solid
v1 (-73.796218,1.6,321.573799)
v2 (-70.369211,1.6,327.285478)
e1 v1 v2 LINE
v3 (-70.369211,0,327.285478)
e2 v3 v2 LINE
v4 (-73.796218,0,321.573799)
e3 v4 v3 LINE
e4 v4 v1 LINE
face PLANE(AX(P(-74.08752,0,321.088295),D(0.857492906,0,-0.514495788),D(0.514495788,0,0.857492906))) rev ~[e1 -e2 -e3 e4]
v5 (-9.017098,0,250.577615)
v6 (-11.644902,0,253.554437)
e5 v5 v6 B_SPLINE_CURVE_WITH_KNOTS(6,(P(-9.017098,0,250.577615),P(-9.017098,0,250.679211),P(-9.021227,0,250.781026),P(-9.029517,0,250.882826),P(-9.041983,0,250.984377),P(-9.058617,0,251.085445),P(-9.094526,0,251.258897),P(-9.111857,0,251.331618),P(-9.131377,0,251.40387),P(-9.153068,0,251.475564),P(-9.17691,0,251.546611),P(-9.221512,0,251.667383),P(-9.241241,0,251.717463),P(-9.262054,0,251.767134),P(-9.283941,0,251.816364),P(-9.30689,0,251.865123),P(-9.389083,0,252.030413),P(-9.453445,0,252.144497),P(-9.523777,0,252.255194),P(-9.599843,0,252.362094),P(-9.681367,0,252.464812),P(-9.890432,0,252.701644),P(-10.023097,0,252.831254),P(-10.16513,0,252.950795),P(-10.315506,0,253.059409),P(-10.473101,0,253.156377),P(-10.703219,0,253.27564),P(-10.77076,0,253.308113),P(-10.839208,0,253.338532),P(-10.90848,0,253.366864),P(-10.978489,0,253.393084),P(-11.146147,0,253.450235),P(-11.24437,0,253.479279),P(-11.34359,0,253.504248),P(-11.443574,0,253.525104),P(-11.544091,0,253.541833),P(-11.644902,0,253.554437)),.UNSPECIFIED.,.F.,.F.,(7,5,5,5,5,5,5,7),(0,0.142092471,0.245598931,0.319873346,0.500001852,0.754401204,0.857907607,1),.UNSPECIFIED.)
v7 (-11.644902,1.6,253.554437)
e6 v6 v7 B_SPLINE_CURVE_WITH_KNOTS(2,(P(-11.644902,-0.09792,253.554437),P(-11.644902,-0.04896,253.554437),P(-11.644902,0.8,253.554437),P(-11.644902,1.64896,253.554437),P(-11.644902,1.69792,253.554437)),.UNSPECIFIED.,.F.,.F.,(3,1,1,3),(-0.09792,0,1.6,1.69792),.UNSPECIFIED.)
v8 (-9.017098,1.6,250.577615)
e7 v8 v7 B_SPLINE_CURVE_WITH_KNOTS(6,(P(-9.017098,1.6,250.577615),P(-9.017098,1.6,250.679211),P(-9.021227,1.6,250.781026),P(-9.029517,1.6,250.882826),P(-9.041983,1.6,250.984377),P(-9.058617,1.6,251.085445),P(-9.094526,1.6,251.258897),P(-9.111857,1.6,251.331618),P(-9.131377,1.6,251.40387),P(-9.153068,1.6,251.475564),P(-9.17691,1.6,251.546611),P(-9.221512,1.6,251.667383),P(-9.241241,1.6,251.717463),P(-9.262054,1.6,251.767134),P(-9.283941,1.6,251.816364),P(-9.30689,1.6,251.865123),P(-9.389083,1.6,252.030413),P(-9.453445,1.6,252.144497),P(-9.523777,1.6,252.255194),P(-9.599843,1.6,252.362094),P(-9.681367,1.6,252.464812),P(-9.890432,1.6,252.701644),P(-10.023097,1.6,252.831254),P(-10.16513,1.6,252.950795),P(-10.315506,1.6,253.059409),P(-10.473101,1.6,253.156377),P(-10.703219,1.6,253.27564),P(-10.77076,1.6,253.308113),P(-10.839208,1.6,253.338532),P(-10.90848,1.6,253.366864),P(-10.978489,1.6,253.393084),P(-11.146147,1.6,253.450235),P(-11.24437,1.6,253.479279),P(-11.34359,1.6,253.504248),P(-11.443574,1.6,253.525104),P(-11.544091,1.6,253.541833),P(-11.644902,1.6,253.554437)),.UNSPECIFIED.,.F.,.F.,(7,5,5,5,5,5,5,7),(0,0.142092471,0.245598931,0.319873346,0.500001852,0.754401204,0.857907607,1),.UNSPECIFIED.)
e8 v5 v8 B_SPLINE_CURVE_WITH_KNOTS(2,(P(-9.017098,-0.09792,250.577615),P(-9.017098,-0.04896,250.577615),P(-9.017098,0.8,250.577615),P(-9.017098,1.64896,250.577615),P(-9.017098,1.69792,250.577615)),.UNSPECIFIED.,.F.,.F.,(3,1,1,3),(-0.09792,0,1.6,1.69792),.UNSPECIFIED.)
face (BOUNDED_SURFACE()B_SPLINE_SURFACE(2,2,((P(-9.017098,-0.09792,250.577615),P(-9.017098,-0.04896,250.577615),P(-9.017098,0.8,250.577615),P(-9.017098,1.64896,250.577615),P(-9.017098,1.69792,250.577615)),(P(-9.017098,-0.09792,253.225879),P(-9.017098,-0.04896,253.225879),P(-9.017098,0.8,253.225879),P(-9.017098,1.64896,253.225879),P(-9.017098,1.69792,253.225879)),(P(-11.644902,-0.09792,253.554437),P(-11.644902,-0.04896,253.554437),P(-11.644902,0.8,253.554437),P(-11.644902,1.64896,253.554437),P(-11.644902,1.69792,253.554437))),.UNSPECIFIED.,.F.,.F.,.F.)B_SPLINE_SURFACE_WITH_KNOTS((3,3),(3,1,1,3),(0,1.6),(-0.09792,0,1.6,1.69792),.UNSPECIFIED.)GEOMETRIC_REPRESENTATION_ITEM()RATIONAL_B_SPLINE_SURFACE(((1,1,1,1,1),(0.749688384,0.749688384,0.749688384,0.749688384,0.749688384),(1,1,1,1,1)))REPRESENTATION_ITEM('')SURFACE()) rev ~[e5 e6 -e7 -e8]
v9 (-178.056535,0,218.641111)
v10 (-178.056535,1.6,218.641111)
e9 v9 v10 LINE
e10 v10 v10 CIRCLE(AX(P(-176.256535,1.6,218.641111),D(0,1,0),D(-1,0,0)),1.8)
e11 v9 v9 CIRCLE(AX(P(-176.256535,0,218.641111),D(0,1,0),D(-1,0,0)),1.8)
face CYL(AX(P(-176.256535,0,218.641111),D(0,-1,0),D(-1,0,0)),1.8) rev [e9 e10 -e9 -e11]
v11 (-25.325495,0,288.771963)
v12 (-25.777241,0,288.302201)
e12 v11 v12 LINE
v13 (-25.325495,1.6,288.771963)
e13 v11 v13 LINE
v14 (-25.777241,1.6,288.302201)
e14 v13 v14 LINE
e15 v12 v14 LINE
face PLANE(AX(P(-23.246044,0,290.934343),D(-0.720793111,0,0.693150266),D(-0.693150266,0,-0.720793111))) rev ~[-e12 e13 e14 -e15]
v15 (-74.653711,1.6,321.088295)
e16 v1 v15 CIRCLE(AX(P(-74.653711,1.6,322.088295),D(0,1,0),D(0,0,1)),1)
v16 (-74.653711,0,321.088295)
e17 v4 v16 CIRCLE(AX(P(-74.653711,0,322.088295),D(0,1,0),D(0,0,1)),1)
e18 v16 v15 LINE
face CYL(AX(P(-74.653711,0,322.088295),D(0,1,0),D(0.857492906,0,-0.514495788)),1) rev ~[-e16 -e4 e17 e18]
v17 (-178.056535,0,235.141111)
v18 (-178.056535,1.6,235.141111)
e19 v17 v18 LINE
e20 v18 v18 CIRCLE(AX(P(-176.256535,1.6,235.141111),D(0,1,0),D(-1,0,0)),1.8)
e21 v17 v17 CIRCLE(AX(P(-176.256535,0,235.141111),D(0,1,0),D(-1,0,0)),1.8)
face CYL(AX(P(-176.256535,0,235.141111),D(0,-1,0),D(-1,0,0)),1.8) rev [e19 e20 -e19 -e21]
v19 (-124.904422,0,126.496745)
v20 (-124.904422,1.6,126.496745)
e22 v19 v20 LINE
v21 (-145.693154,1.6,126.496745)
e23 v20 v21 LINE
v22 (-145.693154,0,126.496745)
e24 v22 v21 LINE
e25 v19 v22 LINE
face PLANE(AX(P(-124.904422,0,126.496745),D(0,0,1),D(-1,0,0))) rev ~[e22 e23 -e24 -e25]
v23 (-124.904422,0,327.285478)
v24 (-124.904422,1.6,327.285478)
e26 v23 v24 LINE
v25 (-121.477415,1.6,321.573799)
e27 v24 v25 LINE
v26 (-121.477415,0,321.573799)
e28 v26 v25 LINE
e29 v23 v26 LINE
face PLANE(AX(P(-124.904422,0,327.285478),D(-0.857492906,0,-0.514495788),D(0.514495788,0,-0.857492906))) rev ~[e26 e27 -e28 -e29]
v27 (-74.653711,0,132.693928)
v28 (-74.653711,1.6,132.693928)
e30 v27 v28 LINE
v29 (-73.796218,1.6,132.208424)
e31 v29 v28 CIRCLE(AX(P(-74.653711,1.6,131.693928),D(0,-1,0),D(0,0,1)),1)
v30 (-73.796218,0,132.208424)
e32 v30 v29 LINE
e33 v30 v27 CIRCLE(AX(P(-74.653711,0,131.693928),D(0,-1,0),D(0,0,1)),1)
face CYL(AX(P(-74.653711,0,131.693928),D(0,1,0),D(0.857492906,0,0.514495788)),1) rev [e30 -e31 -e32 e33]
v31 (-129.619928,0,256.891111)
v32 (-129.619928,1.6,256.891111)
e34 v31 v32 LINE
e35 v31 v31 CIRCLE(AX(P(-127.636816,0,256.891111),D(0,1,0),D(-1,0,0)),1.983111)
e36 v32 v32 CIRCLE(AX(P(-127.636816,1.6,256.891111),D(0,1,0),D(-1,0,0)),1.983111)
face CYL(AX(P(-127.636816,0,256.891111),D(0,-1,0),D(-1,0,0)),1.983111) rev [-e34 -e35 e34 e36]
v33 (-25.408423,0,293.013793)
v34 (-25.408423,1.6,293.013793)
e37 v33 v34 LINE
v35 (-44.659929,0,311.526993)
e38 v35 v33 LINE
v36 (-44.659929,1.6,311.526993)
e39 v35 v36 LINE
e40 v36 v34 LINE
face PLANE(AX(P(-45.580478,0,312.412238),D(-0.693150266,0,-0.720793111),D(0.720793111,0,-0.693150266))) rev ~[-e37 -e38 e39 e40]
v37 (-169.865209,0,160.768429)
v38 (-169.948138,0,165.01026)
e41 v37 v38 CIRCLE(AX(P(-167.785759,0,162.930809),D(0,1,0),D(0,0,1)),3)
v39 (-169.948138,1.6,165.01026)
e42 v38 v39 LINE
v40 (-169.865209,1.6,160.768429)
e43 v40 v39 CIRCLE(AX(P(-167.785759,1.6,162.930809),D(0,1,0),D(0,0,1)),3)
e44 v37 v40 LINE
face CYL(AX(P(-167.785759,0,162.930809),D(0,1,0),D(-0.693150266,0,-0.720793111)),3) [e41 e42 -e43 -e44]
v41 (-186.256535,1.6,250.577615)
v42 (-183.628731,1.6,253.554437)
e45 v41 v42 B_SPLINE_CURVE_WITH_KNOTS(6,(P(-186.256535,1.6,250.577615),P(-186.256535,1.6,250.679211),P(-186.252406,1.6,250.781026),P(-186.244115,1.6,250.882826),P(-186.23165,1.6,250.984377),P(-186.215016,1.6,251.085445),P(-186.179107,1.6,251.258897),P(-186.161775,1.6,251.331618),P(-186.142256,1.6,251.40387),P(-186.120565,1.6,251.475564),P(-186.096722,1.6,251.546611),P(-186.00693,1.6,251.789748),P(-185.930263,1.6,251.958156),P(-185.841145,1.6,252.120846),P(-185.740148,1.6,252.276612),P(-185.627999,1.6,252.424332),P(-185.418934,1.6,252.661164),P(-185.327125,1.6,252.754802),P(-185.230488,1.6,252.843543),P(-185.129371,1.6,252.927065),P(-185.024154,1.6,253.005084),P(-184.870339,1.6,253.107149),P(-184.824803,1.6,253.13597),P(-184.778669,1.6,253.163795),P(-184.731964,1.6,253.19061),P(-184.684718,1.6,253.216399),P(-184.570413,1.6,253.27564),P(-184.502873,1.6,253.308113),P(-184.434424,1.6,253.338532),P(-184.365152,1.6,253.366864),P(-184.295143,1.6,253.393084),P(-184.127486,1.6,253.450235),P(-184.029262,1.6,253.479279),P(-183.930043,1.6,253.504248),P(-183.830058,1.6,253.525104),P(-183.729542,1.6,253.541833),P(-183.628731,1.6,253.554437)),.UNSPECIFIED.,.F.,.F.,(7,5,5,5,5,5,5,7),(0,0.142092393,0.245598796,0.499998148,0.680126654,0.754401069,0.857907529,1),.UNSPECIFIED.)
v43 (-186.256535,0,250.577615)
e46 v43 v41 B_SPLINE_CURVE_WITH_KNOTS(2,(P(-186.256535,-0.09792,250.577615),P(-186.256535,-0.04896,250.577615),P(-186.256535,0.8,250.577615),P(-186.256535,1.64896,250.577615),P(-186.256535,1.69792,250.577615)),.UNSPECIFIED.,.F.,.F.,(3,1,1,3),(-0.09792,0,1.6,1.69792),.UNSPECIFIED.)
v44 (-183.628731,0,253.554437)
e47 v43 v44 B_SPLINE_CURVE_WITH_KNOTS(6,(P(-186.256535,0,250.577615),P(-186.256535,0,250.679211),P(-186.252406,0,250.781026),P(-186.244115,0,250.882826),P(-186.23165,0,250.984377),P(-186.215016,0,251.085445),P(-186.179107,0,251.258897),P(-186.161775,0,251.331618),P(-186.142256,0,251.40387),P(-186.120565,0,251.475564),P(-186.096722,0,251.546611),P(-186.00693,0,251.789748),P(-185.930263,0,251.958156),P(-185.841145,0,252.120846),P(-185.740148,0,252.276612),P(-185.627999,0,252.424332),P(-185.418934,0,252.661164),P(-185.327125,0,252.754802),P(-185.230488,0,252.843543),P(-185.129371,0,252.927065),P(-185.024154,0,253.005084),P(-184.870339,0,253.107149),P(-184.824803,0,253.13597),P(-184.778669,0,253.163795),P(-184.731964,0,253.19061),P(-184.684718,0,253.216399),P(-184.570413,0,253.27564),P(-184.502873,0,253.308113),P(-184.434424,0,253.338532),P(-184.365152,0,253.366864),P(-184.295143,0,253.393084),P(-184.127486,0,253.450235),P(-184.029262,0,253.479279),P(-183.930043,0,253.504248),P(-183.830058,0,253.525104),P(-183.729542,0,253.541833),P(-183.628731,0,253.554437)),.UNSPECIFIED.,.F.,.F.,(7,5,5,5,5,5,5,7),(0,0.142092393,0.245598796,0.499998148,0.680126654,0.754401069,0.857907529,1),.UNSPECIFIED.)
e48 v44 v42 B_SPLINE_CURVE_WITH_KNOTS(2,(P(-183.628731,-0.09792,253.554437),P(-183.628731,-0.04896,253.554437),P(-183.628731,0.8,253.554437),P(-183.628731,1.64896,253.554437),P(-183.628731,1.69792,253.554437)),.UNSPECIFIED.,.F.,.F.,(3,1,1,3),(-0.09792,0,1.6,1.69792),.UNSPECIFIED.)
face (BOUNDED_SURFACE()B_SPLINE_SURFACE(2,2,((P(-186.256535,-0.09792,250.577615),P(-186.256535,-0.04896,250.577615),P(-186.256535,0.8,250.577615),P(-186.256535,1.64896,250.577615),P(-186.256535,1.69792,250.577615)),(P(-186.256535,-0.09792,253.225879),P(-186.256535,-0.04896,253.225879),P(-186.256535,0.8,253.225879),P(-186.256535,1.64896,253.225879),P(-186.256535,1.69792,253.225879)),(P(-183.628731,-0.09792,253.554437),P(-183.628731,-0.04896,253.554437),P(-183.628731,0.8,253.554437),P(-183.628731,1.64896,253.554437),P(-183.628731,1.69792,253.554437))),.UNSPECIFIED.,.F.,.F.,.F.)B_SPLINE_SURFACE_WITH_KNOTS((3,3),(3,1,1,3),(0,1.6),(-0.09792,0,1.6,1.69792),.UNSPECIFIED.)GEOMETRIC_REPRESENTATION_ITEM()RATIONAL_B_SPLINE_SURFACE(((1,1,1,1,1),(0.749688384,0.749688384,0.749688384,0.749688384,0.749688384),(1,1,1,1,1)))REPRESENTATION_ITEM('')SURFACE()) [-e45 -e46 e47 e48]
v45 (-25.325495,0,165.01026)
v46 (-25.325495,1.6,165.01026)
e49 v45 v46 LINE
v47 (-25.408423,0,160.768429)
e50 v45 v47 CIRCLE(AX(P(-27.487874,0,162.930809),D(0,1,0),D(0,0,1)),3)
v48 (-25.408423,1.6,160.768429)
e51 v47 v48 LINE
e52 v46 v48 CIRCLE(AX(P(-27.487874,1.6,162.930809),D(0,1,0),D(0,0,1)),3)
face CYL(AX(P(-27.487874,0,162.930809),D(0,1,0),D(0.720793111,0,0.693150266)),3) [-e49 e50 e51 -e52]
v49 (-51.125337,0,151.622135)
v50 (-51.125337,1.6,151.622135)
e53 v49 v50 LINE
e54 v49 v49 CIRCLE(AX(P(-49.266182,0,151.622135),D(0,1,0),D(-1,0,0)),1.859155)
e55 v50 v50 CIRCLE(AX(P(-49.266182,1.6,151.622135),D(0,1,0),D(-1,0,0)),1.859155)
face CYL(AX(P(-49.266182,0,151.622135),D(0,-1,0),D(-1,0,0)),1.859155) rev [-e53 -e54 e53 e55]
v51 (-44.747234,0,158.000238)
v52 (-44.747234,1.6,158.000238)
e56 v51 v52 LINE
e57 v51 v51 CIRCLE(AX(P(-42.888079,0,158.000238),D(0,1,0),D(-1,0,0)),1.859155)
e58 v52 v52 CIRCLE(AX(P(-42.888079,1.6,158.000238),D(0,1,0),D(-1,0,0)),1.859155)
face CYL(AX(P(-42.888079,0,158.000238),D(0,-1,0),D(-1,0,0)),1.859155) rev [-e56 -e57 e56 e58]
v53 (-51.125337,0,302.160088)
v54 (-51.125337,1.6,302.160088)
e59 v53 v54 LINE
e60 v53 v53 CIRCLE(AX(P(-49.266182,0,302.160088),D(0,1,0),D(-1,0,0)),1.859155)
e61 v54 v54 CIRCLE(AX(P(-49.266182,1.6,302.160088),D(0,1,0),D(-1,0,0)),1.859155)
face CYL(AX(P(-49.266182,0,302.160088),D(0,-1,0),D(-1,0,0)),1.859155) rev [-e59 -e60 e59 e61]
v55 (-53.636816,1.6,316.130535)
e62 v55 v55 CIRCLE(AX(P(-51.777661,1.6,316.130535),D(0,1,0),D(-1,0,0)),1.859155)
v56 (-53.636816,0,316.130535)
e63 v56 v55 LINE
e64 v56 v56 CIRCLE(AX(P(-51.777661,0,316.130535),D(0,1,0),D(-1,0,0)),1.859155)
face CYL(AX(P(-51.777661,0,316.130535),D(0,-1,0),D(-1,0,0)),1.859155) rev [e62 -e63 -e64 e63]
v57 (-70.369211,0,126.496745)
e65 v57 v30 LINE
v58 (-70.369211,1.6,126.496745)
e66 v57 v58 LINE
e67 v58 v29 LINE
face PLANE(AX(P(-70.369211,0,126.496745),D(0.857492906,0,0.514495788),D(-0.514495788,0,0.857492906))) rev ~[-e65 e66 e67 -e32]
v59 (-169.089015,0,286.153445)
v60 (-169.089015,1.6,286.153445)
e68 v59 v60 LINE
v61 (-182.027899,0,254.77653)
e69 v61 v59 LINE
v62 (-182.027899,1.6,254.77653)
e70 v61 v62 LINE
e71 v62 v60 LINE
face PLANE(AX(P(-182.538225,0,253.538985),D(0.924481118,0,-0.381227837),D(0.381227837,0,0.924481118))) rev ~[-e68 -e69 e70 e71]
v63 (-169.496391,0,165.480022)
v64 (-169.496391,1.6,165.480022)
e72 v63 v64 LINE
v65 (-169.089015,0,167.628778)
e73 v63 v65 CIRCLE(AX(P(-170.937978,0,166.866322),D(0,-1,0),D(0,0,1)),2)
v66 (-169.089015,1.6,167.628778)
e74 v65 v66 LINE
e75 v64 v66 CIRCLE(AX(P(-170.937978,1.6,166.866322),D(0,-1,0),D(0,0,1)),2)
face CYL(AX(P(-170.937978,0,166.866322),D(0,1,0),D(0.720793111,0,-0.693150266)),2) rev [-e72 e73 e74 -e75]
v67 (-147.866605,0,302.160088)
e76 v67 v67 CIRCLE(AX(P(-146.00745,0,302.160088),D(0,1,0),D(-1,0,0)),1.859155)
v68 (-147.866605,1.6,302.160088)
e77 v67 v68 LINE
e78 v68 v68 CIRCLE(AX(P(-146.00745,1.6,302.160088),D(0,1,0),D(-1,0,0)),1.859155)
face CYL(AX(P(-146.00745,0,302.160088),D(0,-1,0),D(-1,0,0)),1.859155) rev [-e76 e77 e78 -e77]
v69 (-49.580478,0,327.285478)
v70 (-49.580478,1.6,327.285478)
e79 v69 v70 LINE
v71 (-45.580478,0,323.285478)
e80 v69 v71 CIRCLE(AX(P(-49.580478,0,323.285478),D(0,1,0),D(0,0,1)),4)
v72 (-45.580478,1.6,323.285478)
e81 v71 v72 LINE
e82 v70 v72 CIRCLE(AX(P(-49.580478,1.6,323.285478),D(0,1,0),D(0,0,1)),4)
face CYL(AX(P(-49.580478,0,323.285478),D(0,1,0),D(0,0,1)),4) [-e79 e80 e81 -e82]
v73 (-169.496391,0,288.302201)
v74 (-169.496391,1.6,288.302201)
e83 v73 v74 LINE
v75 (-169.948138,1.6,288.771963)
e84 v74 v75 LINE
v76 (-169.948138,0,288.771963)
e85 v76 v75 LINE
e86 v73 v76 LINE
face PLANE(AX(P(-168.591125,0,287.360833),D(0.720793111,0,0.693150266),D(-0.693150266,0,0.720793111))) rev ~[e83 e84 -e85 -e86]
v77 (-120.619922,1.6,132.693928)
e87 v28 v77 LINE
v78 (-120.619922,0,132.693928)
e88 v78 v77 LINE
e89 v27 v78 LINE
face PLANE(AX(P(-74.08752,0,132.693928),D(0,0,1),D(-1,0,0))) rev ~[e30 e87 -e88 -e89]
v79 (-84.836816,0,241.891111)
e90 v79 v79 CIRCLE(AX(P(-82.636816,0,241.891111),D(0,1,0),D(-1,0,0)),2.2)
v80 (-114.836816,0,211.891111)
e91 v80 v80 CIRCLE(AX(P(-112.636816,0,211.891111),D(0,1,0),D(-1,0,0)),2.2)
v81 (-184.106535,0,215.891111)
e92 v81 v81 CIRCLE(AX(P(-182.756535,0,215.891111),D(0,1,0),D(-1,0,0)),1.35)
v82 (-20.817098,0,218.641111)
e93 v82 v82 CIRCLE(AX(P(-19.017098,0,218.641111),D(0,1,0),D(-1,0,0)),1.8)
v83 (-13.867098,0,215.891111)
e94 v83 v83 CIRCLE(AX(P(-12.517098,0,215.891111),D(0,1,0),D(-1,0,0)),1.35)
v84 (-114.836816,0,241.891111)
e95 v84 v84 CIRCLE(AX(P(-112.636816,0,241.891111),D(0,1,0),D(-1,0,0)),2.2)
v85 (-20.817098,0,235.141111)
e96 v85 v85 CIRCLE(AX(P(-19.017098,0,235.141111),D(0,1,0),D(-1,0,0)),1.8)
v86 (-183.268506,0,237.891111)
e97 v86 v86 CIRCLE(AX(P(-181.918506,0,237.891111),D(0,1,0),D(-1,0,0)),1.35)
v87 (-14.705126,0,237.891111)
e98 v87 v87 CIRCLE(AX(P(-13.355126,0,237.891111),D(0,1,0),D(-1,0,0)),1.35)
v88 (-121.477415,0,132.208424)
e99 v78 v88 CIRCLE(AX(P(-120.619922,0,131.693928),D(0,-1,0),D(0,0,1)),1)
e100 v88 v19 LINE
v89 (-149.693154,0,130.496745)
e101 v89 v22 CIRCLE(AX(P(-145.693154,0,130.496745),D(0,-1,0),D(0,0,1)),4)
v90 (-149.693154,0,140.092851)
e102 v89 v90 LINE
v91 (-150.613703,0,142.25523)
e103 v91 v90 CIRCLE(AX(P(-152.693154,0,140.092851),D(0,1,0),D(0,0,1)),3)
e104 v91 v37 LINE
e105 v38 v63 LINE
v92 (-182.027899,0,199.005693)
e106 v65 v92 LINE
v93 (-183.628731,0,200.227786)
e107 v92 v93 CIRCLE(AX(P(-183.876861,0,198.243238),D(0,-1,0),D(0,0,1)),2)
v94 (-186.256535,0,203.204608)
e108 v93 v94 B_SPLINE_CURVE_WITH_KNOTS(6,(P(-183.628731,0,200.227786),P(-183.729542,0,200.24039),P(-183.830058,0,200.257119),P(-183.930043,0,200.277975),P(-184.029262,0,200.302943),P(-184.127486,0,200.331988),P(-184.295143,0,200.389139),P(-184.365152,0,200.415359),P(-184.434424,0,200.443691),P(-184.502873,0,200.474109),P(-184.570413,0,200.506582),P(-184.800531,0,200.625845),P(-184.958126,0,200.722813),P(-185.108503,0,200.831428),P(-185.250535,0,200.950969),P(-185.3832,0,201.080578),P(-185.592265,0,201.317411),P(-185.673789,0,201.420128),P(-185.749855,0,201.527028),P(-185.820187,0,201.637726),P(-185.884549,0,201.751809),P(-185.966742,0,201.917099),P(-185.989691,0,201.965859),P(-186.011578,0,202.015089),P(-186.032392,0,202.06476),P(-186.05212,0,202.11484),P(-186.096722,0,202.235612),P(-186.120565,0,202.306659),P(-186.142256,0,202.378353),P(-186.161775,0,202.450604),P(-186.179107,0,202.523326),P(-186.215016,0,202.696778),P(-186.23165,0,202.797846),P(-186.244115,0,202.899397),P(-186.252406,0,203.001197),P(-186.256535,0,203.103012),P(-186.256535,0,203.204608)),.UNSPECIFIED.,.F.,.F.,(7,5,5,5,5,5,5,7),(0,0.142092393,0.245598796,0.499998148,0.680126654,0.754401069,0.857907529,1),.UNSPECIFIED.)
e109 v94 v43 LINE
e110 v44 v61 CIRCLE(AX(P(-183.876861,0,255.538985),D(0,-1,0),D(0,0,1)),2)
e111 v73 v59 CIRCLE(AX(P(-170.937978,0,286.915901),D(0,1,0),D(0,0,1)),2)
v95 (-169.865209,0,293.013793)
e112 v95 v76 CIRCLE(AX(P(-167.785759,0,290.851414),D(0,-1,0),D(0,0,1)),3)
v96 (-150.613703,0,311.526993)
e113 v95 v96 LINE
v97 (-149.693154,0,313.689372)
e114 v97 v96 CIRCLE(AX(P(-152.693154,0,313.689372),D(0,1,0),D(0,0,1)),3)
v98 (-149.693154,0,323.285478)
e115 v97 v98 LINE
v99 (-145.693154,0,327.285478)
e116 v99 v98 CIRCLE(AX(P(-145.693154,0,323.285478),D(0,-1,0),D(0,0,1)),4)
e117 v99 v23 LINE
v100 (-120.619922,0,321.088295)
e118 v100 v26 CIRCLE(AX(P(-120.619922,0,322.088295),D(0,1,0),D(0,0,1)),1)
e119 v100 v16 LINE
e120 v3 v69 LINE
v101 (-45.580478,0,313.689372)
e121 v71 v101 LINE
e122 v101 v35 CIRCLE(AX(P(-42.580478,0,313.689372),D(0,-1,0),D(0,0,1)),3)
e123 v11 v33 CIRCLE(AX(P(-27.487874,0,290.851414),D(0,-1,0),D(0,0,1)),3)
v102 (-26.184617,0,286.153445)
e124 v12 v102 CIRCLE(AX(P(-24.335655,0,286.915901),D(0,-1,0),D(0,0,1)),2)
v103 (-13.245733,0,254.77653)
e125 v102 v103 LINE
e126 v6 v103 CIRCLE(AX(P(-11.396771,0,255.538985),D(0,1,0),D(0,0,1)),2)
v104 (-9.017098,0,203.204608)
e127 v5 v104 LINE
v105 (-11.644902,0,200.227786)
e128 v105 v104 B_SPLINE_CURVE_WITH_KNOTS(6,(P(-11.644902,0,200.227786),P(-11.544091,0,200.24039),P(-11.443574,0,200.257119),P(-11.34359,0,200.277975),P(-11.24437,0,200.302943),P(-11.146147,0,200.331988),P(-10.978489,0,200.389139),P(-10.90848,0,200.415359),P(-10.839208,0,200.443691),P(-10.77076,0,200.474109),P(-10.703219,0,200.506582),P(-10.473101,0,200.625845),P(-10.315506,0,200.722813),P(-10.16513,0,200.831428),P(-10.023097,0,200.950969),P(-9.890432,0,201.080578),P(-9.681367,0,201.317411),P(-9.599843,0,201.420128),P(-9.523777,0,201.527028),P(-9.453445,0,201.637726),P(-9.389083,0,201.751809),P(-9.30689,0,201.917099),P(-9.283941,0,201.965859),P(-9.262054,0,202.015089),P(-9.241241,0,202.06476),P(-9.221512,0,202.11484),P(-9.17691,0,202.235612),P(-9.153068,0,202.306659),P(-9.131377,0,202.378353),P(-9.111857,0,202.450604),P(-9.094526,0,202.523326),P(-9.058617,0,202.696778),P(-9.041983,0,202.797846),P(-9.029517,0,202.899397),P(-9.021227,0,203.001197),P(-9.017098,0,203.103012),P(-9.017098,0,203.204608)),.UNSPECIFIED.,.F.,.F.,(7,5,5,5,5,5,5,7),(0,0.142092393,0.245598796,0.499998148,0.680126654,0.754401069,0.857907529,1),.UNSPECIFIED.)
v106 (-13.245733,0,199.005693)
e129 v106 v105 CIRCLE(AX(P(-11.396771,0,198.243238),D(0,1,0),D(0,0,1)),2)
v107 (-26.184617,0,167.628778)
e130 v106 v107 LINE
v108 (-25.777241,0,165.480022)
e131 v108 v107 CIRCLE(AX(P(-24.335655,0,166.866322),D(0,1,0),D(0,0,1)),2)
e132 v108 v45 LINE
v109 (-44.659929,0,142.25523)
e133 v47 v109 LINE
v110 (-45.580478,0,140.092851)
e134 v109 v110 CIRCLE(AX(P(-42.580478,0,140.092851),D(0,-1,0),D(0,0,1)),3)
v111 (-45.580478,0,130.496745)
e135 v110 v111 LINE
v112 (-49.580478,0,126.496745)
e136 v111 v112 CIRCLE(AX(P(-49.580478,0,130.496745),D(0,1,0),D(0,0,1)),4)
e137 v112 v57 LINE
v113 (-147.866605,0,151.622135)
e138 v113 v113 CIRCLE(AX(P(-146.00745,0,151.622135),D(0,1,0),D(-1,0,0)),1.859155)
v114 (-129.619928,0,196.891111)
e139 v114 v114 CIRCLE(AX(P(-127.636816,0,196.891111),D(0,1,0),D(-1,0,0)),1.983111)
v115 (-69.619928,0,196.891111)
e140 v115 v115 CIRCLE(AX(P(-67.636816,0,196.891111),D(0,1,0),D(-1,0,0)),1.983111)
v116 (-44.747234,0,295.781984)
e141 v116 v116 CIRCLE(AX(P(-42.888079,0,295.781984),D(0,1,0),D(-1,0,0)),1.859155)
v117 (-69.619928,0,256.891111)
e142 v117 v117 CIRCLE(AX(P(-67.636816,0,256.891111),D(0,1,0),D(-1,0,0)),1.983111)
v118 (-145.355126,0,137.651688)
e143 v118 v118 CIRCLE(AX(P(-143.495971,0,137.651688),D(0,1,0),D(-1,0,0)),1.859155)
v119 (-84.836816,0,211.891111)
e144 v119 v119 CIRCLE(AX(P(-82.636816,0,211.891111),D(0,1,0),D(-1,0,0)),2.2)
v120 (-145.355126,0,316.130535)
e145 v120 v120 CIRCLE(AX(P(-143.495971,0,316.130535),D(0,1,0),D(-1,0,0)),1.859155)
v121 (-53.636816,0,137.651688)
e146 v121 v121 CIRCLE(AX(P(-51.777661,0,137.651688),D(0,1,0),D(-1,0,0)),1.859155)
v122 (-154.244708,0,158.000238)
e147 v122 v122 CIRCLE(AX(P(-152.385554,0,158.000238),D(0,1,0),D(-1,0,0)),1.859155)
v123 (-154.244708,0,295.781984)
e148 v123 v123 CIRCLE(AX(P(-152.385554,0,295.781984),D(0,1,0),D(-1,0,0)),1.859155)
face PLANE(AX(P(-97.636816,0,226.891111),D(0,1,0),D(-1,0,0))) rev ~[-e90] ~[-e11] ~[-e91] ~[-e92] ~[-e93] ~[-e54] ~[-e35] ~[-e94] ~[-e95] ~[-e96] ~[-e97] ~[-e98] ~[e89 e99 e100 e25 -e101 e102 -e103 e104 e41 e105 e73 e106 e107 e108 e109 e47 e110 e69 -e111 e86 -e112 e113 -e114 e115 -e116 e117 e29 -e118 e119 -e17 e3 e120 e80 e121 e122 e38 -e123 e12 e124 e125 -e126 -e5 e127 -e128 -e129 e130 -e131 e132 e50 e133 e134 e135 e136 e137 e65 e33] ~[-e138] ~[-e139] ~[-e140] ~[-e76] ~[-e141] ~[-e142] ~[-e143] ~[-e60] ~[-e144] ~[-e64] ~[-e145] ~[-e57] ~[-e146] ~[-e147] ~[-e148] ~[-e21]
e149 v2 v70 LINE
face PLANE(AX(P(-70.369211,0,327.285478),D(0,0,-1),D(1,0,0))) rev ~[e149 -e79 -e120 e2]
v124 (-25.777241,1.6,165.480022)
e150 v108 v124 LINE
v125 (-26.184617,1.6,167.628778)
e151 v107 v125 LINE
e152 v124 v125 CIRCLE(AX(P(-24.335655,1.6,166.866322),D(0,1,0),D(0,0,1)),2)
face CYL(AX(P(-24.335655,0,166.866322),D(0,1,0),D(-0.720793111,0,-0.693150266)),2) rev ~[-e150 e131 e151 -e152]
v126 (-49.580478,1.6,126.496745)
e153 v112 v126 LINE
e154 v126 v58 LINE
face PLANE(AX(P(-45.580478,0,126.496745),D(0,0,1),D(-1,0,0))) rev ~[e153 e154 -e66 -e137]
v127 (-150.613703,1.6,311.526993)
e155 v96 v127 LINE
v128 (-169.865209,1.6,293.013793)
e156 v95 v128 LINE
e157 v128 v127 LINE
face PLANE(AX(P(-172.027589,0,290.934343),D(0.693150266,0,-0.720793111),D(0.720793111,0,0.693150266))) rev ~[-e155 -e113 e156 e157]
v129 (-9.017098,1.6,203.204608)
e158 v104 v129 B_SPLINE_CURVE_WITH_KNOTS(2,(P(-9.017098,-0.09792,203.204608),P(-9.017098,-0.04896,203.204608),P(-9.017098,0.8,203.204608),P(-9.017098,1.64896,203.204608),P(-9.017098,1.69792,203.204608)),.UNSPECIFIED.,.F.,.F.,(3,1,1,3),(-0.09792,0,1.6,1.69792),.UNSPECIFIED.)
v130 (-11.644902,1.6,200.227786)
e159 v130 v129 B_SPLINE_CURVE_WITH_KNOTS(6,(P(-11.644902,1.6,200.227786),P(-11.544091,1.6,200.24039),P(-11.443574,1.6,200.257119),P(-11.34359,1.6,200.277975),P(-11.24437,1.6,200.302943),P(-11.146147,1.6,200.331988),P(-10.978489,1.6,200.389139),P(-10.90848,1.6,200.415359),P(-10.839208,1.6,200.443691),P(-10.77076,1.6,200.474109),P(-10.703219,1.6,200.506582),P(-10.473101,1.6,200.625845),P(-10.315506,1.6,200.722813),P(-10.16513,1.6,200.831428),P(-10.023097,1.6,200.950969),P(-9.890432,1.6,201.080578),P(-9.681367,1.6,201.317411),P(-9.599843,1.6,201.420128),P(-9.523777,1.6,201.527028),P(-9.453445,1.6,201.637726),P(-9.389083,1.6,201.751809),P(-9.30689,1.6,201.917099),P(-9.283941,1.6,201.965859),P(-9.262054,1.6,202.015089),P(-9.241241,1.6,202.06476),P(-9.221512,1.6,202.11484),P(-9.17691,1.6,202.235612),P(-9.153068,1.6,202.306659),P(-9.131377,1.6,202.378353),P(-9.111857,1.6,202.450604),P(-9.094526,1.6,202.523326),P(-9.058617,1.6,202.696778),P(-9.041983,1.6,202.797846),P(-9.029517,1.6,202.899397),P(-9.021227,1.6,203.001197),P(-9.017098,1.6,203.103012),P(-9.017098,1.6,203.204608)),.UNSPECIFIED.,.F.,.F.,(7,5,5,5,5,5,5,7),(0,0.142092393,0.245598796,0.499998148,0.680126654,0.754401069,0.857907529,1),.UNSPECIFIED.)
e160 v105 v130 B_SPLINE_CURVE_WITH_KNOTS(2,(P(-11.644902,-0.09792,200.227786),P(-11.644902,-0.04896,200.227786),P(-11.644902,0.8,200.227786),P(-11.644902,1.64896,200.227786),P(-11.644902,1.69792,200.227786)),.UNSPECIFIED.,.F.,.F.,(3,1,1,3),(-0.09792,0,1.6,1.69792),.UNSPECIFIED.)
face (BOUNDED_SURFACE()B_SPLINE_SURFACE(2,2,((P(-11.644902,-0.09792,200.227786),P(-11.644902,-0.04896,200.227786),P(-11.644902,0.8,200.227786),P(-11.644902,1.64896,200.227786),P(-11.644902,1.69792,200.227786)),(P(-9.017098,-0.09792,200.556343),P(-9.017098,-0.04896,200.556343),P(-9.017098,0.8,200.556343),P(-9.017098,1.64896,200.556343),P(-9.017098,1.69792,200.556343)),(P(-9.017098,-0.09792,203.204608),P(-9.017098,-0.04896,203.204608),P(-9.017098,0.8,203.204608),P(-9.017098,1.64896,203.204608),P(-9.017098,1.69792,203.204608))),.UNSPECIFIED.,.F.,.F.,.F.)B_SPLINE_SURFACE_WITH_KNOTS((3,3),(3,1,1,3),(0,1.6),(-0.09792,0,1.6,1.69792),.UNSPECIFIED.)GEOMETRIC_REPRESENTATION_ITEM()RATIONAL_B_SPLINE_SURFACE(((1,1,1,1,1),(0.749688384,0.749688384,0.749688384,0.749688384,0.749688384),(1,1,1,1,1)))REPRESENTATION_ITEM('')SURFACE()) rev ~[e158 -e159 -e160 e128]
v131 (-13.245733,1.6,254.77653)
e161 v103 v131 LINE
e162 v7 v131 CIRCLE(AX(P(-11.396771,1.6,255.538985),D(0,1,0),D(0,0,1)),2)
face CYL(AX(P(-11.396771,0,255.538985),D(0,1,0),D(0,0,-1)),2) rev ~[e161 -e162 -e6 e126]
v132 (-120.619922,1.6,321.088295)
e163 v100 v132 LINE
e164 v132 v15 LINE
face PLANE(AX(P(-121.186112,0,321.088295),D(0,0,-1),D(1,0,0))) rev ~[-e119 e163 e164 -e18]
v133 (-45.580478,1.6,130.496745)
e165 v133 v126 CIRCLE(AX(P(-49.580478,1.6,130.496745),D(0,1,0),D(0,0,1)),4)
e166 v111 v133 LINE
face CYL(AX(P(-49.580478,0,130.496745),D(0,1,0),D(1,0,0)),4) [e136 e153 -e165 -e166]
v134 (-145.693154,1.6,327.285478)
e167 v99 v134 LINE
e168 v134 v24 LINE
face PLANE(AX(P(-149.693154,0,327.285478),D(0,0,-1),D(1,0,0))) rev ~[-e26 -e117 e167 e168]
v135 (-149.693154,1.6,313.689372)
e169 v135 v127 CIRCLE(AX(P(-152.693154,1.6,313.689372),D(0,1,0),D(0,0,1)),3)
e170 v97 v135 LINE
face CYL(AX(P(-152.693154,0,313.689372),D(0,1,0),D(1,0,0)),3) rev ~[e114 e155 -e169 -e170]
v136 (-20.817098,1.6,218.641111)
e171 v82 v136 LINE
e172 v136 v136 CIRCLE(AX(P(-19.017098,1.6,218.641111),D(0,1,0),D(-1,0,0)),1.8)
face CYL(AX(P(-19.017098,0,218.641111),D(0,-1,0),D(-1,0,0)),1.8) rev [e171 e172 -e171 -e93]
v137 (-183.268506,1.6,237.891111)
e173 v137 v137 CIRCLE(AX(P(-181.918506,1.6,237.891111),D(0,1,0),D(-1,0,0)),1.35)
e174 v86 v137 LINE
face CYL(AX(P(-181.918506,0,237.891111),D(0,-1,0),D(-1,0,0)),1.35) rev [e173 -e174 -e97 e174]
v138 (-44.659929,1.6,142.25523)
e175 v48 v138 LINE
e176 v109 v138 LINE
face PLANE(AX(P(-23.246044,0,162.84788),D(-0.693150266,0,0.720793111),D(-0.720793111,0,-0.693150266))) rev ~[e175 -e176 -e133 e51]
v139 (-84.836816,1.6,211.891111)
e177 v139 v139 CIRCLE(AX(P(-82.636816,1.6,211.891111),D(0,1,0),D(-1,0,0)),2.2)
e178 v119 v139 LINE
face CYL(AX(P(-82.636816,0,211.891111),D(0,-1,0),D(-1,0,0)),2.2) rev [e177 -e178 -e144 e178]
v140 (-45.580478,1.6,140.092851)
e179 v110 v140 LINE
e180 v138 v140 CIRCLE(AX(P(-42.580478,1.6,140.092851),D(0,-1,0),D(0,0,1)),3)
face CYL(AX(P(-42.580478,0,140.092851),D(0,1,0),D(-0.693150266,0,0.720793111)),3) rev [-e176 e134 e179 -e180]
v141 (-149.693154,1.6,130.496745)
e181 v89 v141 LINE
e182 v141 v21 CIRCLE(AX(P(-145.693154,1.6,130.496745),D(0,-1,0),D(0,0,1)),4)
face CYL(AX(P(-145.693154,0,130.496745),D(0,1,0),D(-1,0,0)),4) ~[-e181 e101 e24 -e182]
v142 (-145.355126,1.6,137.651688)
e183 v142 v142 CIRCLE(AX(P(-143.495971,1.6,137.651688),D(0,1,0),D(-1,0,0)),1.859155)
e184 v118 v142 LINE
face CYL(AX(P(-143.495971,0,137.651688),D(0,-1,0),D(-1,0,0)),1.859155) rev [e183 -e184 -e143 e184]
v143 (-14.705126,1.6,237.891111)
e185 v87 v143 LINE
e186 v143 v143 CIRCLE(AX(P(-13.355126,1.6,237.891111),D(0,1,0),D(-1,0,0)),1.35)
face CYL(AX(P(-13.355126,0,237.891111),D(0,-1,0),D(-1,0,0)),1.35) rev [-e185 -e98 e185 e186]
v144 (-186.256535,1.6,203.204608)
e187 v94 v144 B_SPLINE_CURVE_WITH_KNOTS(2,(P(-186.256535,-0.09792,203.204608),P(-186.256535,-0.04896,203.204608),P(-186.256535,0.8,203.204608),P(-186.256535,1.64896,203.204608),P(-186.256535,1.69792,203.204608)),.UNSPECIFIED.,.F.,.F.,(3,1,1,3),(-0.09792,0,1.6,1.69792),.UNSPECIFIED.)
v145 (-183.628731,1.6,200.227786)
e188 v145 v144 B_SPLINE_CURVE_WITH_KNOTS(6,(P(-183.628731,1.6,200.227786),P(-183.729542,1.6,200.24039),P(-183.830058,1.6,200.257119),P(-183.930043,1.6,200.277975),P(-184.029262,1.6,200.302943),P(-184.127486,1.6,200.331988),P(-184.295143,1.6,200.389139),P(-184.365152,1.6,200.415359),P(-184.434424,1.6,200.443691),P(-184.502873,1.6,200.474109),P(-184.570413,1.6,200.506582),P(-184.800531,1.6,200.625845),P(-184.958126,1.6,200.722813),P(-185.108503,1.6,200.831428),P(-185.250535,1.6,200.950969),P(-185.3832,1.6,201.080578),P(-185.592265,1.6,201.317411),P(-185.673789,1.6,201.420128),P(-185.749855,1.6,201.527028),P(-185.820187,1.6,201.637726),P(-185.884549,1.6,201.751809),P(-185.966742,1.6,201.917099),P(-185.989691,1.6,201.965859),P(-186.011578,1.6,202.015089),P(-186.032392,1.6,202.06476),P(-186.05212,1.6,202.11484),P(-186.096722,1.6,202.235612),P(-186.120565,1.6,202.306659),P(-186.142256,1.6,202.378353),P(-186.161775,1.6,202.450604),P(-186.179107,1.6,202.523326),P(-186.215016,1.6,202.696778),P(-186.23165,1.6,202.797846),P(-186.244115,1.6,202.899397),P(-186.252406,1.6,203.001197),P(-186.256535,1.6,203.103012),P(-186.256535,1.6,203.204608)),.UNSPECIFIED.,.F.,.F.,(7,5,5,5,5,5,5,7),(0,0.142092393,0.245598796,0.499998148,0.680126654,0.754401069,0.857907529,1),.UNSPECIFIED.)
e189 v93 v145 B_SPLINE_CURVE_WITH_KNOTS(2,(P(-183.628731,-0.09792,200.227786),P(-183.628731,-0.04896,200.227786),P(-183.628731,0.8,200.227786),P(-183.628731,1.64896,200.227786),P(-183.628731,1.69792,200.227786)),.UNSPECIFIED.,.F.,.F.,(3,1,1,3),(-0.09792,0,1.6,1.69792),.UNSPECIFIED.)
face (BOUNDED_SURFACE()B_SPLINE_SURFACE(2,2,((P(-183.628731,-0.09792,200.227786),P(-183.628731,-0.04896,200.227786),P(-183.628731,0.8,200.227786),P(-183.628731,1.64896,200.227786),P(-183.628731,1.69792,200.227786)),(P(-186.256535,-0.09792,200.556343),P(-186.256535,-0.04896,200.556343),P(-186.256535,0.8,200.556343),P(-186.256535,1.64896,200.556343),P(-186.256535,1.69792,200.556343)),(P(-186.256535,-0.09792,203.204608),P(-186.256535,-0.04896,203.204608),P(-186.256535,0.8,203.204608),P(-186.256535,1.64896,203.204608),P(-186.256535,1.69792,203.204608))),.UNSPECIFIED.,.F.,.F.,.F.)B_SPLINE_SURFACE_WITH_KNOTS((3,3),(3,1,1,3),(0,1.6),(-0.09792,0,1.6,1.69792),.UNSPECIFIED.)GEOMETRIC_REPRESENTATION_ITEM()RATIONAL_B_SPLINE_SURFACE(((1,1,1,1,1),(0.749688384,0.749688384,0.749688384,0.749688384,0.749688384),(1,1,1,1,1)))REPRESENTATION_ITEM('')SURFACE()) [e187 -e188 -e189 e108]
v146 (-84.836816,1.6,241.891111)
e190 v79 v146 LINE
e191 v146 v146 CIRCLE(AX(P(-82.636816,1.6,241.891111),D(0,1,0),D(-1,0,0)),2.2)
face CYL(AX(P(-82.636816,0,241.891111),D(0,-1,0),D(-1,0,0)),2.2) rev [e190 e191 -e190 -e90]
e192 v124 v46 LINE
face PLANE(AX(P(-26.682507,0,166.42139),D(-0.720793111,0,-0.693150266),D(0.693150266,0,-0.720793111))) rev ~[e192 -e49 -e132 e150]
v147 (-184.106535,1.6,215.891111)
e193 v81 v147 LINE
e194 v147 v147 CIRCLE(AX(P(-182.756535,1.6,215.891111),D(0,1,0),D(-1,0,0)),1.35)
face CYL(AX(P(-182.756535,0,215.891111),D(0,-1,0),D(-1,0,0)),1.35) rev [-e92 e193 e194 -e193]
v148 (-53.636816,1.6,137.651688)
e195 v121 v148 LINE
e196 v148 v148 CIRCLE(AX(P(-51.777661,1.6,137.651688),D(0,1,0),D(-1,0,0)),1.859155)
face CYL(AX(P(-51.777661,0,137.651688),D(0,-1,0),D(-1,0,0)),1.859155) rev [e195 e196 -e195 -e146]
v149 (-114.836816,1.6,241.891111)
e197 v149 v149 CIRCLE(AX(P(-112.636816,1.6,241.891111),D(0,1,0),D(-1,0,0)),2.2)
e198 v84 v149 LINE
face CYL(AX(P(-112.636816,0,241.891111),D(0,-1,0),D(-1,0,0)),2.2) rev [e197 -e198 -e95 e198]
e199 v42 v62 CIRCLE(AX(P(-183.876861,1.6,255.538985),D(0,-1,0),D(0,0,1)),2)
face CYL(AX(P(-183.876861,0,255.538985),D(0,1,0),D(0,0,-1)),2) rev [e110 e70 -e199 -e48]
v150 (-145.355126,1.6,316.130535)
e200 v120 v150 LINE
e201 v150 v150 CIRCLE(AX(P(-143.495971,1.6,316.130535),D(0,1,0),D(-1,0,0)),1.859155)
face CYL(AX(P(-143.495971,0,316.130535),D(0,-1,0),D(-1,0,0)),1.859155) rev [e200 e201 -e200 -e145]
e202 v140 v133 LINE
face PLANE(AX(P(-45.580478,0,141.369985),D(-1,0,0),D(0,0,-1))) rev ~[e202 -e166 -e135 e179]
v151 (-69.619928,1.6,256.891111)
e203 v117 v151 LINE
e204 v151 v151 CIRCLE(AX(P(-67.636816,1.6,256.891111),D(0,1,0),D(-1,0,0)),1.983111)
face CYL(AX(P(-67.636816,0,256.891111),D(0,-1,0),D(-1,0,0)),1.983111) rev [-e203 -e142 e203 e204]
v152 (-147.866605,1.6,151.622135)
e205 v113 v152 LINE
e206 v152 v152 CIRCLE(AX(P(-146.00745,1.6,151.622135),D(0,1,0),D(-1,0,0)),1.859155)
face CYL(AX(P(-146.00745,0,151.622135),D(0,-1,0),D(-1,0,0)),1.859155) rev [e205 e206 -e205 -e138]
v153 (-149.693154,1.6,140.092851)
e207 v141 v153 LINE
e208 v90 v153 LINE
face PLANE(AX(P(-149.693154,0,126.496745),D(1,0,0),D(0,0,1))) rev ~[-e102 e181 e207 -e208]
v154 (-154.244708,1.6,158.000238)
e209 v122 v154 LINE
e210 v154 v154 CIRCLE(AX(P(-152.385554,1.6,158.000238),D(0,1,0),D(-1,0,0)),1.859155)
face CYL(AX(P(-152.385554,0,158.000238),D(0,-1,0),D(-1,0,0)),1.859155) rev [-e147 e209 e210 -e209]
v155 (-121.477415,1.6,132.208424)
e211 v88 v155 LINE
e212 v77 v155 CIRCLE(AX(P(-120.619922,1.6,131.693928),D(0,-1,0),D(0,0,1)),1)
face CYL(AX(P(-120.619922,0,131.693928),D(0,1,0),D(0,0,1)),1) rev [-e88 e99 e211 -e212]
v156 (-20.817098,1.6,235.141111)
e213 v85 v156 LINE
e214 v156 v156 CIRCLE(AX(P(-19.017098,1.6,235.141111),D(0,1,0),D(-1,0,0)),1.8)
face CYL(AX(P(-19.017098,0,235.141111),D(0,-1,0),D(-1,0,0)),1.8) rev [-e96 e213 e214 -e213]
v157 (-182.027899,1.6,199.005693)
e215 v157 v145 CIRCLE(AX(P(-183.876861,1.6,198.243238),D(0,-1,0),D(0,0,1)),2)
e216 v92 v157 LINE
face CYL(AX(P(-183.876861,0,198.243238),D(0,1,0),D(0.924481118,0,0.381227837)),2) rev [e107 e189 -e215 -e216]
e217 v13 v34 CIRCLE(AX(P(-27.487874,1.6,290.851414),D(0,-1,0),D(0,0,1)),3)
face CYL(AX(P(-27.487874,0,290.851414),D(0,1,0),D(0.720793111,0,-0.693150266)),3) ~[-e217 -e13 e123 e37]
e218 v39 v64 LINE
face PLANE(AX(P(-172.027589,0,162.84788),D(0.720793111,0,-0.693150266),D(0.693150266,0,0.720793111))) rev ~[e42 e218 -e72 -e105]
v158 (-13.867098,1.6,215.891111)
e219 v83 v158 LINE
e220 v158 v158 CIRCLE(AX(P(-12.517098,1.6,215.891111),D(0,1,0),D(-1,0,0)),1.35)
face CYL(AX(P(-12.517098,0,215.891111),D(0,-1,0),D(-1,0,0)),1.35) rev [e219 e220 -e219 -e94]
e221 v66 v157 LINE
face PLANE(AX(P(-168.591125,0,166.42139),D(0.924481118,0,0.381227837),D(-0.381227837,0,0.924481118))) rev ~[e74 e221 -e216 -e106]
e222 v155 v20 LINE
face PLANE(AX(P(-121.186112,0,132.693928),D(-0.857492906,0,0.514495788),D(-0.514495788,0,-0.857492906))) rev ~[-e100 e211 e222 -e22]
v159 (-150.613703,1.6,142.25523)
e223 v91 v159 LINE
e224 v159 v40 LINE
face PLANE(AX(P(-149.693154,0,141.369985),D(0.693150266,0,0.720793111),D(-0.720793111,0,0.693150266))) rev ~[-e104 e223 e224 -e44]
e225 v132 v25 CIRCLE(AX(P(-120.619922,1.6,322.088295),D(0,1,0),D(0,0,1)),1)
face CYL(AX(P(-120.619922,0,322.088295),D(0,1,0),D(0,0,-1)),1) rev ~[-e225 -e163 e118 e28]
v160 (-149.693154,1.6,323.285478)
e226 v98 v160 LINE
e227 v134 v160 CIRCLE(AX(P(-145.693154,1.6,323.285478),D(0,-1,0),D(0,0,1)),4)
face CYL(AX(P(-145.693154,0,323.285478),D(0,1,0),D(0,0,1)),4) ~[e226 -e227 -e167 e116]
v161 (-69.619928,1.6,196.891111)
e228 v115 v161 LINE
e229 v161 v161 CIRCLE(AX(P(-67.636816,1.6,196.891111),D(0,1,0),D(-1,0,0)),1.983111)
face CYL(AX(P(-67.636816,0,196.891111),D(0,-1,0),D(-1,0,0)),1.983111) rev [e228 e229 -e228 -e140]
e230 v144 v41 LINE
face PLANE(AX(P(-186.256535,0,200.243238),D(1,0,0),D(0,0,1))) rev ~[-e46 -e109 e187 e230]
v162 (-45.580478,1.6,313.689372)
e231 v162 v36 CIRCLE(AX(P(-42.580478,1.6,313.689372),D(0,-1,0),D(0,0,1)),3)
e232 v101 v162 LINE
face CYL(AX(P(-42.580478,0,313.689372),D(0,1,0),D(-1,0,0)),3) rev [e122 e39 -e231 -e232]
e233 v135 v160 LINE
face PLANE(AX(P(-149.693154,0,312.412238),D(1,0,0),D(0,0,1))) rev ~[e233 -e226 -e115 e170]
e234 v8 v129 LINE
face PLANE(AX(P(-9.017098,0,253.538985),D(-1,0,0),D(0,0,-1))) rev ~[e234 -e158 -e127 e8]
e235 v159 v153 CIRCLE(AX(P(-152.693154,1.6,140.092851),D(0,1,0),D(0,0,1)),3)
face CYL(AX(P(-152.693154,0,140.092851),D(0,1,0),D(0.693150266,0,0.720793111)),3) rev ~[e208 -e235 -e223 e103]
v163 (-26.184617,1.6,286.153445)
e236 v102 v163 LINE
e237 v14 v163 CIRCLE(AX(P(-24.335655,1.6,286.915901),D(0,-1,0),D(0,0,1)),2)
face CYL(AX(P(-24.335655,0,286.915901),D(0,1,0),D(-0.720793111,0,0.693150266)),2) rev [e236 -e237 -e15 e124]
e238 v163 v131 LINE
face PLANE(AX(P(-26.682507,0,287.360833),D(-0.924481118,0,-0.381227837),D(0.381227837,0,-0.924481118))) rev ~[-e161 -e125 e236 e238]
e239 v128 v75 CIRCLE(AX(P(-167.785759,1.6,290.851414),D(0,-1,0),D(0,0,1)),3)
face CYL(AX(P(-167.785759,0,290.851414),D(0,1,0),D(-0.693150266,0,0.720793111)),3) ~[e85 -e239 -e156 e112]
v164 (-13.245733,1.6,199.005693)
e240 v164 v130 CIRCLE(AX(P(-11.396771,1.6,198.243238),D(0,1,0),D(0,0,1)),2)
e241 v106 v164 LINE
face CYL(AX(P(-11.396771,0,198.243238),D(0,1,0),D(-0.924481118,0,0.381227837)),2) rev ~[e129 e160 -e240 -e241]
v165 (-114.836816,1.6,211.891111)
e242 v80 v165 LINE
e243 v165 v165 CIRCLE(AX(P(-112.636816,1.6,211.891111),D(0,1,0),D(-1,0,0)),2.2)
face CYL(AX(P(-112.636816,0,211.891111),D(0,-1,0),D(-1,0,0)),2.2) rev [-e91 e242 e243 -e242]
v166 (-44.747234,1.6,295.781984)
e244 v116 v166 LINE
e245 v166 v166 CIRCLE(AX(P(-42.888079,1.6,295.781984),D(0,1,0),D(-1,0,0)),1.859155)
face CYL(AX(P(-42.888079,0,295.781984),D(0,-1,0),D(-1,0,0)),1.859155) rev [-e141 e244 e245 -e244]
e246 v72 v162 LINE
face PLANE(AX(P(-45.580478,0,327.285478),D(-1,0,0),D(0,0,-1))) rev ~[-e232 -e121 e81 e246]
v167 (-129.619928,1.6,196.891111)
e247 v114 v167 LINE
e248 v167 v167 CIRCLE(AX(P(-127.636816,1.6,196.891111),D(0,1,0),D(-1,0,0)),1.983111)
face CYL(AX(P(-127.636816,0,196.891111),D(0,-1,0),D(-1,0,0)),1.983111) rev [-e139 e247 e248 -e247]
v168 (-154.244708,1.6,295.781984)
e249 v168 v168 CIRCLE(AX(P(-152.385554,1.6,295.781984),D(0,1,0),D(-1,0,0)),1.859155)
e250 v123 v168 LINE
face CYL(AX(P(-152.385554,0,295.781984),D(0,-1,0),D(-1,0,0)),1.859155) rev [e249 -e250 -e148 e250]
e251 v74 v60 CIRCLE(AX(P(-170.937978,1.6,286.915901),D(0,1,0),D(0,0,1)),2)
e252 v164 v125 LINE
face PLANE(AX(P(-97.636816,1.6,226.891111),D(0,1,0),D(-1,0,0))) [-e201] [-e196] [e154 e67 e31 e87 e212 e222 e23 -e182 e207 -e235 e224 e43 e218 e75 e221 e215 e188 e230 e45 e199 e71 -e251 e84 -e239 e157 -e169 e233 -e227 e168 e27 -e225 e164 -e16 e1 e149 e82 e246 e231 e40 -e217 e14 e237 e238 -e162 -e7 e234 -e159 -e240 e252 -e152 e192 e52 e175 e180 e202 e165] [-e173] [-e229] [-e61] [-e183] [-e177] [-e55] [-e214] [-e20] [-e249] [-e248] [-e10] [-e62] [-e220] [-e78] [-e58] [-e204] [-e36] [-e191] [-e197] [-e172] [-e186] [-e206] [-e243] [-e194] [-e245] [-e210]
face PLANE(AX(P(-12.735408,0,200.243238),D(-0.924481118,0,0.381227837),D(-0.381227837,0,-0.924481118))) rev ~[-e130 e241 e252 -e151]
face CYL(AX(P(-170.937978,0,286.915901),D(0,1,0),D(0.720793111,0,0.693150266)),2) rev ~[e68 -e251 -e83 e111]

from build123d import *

# Parameters (mm, degrees)
SKETCH1_R        = 2.2
SKETCH1_R_2      = 1.85915493
SKETCH1_R_3      = 1.8
SKETCH1_R_4      = 1.35
SKETCH1_R_5      = 1.983111479
EXTRUSION1_DEPTH = 1.6
FILLET1_R        = 1
FILLET2_R        = 4
FILLET3_R        = 3
FILLET4_R        = 3
FILLET5_R        = 2
FILLET6_R        = 2
FILLET7_R        = 3
FILLET8_R        = 3
FILLET9_R        = 2
FILLET10_R       = 2
FILLET11_R       = 3


with BuildPart() as part:
    # Sketch1 → Extrusion1 (new body)
    with BuildSketch(Plane(origin=(0, 0, 0), x_dir=(-1, 0, 0), z_dir=(0, 1, 0))):
        Polygon((74.087520418, 321.088295015), (70.369210559, 327.285477572), (45.580478165, 327.285477572), (45.580478165, 312.412238135), (23.246043749, 290.934342561), (26.682507041, 287.360833055), (12.735407819, 253.538985229), (9.017097883, 253.538985229), (9.017097883, 226.891111382), (9.017097883, 200.243237534), (12.735407819, 200.243237534), (26.682507041, 166.421389708), (23.246043749, 162.847880202), (45.580478165, 141.369984628), (45.580478165, 126.496745191), (70.369210559, 126.496745191), (74.087520418, 132.693927748), (97.636816193, 132.693927748), (121.186111968, 132.693927748), (124.904421827, 126.496745191), (149.693154221, 126.496745191), (149.693154221, 141.369984628), (172.027588636, 162.847880202), (168.591125345, 166.421389708), (182.538224567, 200.243237534), (186.256534503, 200.243237534), (186.256534503, 226.891111382), (186.256534503, 253.538985229), (182.538224567, 253.538985229), (168.591125345, 287.360833055), (172.027588636, 290.934342561), (149.693154221, 312.412238135), (149.693154221, 327.285477572), (124.904421827, 327.285477572), (121.186111968, 321.088295015), (97.636816193, 321.088295015), align=None)
        with Locations((112.636816193, 211.891111382)):
            Circle(SKETCH1_R, mode=Mode.SUBTRACT)
        with Locations((49.266182018, 151.62213525)):
            Circle(SKETCH1_R_2, mode=Mode.SUBTRACT)
        with Locations((112.636816193, 241.891111382)):
            Circle(SKETCH1_R, mode=Mode.SUBTRACT)
        with Locations((82.636816193, 241.891111382)):
            Circle(SKETCH1_R, mode=Mode.SUBTRACT)
        with Locations((82.636816193, 211.891111382)):
            Circle(SKETCH1_R, mode=Mode.SUBTRACT)
        with Locations((176.256534503, 218.641111382)):
            Circle(SKETCH1_R_3, mode=Mode.SUBTRACT)
        with Locations((176.256534503, 235.141111382)):
            Circle(SKETCH1_R_3, mode=Mode.SUBTRACT)
        with Locations((19.017097883, 218.641111382)):
            Circle(SKETCH1_R_3, mode=Mode.SUBTRACT)
        with Locations((19.017097883, 235.141111382)):
            Circle(SKETCH1_R_3, mode=Mode.SUBTRACT)
        with Locations((182.756534503, 215.891111382)):
            Circle(SKETCH1_R_4, mode=Mode.SUBTRACT)
        with Locations((181.918506411, 237.891111382)):
            Circle(SKETCH1_R_4, mode=Mode.SUBTRACT)
        with Locations((51.777661187, 316.130534525)):
            Circle(SKETCH1_R_2, mode=Mode.SUBTRACT)
        with Locations((49.266182018, 302.160087513)):
            Circle(SKETCH1_R_2, mode=Mode.SUBTRACT)
        with Locations((13.355125975, 237.891111382)):
            Circle(SKETCH1_R_4, mode=Mode.SUBTRACT)
        with Locations((143.495971199, 137.651688238)):
            Circle(SKETCH1_R_2, mode=Mode.SUBTRACT)
        with Locations((146.007450368, 151.62213525)):
            Circle(SKETCH1_R_2, mode=Mode.SUBTRACT)
        with Locations((143.495971199, 316.130534525)):
            Circle(SKETCH1_R_2, mode=Mode.SUBTRACT)
        with Locations((146.007450368, 302.160087513)):
            Circle(SKETCH1_R_2, mode=Mode.SUBTRACT)
        with Locations((12.517097883, 215.891111382)):
            Circle(SKETCH1_R_4, mode=Mode.SUBTRACT)
        with Locations((51.777661187, 137.651688238)):
            Circle(SKETCH1_R_2, mode=Mode.SUBTRACT)
        with Locations((67.636816193, 196.891111382)):
            Circle(SKETCH1_R_5, mode=Mode.SUBTRACT)
        with Locations((67.636816193, 256.891111382)):
            Circle(SKETCH1_R_5, mode=Mode.SUBTRACT)
        with Locations((42.888078851, 158.000238416)):
            Circle(SKETCH1_R_2, mode=Mode.SUBTRACT)
        with Locations((152.385553534, 295.781984347)):
            Circle(SKETCH1_R_2, mode=Mode.SUBTRACT)
        with Locations((42.888078851, 295.781984347)):
            Circle(SKETCH1_R_2, mode=Mode.SUBTRACT)
        with Locations((127.636816193, 256.891111382)):
            Circle(SKETCH1_R_5, mode=Mode.SUBTRACT)
        with Locations((152.385553534, 158.000238416)):
            Circle(SKETCH1_R_2, mode=Mode.SUBTRACT)
        with Locations((127.636816193, 196.891111382)):
            Circle(SKETCH1_R_5, mode=Mode.SUBTRACT)
    extrude(amount=EXTRUSION1_DEPTH)

    # Fillet1
    fillet1_edges = [part.edges().sort_by_distance(p)[0] for p in [
        (-121.186111968, 0.8, 321.088295015),
        (-121.186111968, 0.8, 132.693927748),
        (-74.087520418, 0.8, 132.693927748),
        (-74.087520418, 0.8, 321.088295015),
    ]]
    fillet(fillet1_edges, radius=FILLET1_R)

    # Fillet2
    fillet2_edges = [part.edges().sort_by_distance(p)[0] for p in [
        (-149.693154221, 0.8, 327.285477572),
        (-149.693154221, 0.8, 126.496745191),
        (-45.580478165, 0.8, 126.496745191),
        (-45.580478165, 0.8, 327.285477572),
    ]]
    fillet(fillet2_edges, radius=FILLET2_R)

    # Fillet3
    fillet3_edges = [part.edges().sort_by_distance(p)[0] for p in [
        (-149.693154221, 0.8, 312.412238135),
        (-149.693154221, 0.8, 141.369984628),
        (-45.580478165, 0.8, 141.369984628),
        (-45.580478165, 0.8, 312.412238135),
    ]]
    fillet(fillet3_edges, radius=FILLET3_R)

    # Fillet4
    fillet4_edges = [part.edges().sort_by_distance(p)[0] for p in [
        (-172.027588636, 0.8, 290.934342561),
    ]]
    fillet(fillet4_edges, radius=FILLET4_R)

    # Fillet5
    fillet5_edges = [part.edges().sort_by_distance(p)[0] for p in [
        (-168.591125345, 0.8, 287.360833055),
    ]]
    fillet(fillet5_edges, radius=FILLET5_R)

    # Fillet6
    fillet6_edges = [part.edges().sort_by_distance(p)[0] for p in [
        (-26.682507041, 0.8, 287.360833055),
    ]]
    fillet(fillet6_edges, radius=FILLET6_R)

    # Fillet7
    fillet7_edges = [part.edges().sort_by_distance(p)[0] for p in [
        (-23.246043749, 0.8, 290.934342561),
    ]]
    fillet(fillet7_edges, radius=FILLET7_R)

    # Fillet8
    fillet8_edges = [part.edges().sort_by_distance(p)[0] for p in [
        (-172.027588636, 0.8, 162.847880202),
        (-23.246043749, 0.8, 162.847880202),
    ]]
    fillet(fillet8_edges, radius=FILLET8_R)

    # Fillet9
    fillet9_edges = [part.edges().sort_by_distance(p)[0] for p in [
        (-168.591125345, 0.8, 166.421389708),
        (-26.682507041, 0.8, 166.421389708),
    ]]
    fillet(fillet9_edges, radius=FILLET9_R)

    # Fillet10
    fillet10_edges = [part.edges().sort_by_distance(p)[0] for p in [
        (-182.538224567, 0.8, 253.538985229),
        (-182.538224567, 0.8, 200.243237534),
        (-12.735407819, 0.8, 200.243237534),
        (-12.735407819, 0.8, 253.538985229),
    ]]
    fillet(fillet10_edges, radius=FILLET10_R)

    # Fillet11
    fillet11_edges = [part.edges().sort_by_distance(p)[0] for p in [
        (-186.256534503, 0.8, 200.243237534),
        (-186.256534503, 0.8, 253.538985229),
        (-9.017097883, 0.8, 253.538985229),
        (-9.017097883, 0.8, 200.243237534),
    ]]
    fillet(fillet11_edges, radius=FILLET11_R)


solid = part.part
